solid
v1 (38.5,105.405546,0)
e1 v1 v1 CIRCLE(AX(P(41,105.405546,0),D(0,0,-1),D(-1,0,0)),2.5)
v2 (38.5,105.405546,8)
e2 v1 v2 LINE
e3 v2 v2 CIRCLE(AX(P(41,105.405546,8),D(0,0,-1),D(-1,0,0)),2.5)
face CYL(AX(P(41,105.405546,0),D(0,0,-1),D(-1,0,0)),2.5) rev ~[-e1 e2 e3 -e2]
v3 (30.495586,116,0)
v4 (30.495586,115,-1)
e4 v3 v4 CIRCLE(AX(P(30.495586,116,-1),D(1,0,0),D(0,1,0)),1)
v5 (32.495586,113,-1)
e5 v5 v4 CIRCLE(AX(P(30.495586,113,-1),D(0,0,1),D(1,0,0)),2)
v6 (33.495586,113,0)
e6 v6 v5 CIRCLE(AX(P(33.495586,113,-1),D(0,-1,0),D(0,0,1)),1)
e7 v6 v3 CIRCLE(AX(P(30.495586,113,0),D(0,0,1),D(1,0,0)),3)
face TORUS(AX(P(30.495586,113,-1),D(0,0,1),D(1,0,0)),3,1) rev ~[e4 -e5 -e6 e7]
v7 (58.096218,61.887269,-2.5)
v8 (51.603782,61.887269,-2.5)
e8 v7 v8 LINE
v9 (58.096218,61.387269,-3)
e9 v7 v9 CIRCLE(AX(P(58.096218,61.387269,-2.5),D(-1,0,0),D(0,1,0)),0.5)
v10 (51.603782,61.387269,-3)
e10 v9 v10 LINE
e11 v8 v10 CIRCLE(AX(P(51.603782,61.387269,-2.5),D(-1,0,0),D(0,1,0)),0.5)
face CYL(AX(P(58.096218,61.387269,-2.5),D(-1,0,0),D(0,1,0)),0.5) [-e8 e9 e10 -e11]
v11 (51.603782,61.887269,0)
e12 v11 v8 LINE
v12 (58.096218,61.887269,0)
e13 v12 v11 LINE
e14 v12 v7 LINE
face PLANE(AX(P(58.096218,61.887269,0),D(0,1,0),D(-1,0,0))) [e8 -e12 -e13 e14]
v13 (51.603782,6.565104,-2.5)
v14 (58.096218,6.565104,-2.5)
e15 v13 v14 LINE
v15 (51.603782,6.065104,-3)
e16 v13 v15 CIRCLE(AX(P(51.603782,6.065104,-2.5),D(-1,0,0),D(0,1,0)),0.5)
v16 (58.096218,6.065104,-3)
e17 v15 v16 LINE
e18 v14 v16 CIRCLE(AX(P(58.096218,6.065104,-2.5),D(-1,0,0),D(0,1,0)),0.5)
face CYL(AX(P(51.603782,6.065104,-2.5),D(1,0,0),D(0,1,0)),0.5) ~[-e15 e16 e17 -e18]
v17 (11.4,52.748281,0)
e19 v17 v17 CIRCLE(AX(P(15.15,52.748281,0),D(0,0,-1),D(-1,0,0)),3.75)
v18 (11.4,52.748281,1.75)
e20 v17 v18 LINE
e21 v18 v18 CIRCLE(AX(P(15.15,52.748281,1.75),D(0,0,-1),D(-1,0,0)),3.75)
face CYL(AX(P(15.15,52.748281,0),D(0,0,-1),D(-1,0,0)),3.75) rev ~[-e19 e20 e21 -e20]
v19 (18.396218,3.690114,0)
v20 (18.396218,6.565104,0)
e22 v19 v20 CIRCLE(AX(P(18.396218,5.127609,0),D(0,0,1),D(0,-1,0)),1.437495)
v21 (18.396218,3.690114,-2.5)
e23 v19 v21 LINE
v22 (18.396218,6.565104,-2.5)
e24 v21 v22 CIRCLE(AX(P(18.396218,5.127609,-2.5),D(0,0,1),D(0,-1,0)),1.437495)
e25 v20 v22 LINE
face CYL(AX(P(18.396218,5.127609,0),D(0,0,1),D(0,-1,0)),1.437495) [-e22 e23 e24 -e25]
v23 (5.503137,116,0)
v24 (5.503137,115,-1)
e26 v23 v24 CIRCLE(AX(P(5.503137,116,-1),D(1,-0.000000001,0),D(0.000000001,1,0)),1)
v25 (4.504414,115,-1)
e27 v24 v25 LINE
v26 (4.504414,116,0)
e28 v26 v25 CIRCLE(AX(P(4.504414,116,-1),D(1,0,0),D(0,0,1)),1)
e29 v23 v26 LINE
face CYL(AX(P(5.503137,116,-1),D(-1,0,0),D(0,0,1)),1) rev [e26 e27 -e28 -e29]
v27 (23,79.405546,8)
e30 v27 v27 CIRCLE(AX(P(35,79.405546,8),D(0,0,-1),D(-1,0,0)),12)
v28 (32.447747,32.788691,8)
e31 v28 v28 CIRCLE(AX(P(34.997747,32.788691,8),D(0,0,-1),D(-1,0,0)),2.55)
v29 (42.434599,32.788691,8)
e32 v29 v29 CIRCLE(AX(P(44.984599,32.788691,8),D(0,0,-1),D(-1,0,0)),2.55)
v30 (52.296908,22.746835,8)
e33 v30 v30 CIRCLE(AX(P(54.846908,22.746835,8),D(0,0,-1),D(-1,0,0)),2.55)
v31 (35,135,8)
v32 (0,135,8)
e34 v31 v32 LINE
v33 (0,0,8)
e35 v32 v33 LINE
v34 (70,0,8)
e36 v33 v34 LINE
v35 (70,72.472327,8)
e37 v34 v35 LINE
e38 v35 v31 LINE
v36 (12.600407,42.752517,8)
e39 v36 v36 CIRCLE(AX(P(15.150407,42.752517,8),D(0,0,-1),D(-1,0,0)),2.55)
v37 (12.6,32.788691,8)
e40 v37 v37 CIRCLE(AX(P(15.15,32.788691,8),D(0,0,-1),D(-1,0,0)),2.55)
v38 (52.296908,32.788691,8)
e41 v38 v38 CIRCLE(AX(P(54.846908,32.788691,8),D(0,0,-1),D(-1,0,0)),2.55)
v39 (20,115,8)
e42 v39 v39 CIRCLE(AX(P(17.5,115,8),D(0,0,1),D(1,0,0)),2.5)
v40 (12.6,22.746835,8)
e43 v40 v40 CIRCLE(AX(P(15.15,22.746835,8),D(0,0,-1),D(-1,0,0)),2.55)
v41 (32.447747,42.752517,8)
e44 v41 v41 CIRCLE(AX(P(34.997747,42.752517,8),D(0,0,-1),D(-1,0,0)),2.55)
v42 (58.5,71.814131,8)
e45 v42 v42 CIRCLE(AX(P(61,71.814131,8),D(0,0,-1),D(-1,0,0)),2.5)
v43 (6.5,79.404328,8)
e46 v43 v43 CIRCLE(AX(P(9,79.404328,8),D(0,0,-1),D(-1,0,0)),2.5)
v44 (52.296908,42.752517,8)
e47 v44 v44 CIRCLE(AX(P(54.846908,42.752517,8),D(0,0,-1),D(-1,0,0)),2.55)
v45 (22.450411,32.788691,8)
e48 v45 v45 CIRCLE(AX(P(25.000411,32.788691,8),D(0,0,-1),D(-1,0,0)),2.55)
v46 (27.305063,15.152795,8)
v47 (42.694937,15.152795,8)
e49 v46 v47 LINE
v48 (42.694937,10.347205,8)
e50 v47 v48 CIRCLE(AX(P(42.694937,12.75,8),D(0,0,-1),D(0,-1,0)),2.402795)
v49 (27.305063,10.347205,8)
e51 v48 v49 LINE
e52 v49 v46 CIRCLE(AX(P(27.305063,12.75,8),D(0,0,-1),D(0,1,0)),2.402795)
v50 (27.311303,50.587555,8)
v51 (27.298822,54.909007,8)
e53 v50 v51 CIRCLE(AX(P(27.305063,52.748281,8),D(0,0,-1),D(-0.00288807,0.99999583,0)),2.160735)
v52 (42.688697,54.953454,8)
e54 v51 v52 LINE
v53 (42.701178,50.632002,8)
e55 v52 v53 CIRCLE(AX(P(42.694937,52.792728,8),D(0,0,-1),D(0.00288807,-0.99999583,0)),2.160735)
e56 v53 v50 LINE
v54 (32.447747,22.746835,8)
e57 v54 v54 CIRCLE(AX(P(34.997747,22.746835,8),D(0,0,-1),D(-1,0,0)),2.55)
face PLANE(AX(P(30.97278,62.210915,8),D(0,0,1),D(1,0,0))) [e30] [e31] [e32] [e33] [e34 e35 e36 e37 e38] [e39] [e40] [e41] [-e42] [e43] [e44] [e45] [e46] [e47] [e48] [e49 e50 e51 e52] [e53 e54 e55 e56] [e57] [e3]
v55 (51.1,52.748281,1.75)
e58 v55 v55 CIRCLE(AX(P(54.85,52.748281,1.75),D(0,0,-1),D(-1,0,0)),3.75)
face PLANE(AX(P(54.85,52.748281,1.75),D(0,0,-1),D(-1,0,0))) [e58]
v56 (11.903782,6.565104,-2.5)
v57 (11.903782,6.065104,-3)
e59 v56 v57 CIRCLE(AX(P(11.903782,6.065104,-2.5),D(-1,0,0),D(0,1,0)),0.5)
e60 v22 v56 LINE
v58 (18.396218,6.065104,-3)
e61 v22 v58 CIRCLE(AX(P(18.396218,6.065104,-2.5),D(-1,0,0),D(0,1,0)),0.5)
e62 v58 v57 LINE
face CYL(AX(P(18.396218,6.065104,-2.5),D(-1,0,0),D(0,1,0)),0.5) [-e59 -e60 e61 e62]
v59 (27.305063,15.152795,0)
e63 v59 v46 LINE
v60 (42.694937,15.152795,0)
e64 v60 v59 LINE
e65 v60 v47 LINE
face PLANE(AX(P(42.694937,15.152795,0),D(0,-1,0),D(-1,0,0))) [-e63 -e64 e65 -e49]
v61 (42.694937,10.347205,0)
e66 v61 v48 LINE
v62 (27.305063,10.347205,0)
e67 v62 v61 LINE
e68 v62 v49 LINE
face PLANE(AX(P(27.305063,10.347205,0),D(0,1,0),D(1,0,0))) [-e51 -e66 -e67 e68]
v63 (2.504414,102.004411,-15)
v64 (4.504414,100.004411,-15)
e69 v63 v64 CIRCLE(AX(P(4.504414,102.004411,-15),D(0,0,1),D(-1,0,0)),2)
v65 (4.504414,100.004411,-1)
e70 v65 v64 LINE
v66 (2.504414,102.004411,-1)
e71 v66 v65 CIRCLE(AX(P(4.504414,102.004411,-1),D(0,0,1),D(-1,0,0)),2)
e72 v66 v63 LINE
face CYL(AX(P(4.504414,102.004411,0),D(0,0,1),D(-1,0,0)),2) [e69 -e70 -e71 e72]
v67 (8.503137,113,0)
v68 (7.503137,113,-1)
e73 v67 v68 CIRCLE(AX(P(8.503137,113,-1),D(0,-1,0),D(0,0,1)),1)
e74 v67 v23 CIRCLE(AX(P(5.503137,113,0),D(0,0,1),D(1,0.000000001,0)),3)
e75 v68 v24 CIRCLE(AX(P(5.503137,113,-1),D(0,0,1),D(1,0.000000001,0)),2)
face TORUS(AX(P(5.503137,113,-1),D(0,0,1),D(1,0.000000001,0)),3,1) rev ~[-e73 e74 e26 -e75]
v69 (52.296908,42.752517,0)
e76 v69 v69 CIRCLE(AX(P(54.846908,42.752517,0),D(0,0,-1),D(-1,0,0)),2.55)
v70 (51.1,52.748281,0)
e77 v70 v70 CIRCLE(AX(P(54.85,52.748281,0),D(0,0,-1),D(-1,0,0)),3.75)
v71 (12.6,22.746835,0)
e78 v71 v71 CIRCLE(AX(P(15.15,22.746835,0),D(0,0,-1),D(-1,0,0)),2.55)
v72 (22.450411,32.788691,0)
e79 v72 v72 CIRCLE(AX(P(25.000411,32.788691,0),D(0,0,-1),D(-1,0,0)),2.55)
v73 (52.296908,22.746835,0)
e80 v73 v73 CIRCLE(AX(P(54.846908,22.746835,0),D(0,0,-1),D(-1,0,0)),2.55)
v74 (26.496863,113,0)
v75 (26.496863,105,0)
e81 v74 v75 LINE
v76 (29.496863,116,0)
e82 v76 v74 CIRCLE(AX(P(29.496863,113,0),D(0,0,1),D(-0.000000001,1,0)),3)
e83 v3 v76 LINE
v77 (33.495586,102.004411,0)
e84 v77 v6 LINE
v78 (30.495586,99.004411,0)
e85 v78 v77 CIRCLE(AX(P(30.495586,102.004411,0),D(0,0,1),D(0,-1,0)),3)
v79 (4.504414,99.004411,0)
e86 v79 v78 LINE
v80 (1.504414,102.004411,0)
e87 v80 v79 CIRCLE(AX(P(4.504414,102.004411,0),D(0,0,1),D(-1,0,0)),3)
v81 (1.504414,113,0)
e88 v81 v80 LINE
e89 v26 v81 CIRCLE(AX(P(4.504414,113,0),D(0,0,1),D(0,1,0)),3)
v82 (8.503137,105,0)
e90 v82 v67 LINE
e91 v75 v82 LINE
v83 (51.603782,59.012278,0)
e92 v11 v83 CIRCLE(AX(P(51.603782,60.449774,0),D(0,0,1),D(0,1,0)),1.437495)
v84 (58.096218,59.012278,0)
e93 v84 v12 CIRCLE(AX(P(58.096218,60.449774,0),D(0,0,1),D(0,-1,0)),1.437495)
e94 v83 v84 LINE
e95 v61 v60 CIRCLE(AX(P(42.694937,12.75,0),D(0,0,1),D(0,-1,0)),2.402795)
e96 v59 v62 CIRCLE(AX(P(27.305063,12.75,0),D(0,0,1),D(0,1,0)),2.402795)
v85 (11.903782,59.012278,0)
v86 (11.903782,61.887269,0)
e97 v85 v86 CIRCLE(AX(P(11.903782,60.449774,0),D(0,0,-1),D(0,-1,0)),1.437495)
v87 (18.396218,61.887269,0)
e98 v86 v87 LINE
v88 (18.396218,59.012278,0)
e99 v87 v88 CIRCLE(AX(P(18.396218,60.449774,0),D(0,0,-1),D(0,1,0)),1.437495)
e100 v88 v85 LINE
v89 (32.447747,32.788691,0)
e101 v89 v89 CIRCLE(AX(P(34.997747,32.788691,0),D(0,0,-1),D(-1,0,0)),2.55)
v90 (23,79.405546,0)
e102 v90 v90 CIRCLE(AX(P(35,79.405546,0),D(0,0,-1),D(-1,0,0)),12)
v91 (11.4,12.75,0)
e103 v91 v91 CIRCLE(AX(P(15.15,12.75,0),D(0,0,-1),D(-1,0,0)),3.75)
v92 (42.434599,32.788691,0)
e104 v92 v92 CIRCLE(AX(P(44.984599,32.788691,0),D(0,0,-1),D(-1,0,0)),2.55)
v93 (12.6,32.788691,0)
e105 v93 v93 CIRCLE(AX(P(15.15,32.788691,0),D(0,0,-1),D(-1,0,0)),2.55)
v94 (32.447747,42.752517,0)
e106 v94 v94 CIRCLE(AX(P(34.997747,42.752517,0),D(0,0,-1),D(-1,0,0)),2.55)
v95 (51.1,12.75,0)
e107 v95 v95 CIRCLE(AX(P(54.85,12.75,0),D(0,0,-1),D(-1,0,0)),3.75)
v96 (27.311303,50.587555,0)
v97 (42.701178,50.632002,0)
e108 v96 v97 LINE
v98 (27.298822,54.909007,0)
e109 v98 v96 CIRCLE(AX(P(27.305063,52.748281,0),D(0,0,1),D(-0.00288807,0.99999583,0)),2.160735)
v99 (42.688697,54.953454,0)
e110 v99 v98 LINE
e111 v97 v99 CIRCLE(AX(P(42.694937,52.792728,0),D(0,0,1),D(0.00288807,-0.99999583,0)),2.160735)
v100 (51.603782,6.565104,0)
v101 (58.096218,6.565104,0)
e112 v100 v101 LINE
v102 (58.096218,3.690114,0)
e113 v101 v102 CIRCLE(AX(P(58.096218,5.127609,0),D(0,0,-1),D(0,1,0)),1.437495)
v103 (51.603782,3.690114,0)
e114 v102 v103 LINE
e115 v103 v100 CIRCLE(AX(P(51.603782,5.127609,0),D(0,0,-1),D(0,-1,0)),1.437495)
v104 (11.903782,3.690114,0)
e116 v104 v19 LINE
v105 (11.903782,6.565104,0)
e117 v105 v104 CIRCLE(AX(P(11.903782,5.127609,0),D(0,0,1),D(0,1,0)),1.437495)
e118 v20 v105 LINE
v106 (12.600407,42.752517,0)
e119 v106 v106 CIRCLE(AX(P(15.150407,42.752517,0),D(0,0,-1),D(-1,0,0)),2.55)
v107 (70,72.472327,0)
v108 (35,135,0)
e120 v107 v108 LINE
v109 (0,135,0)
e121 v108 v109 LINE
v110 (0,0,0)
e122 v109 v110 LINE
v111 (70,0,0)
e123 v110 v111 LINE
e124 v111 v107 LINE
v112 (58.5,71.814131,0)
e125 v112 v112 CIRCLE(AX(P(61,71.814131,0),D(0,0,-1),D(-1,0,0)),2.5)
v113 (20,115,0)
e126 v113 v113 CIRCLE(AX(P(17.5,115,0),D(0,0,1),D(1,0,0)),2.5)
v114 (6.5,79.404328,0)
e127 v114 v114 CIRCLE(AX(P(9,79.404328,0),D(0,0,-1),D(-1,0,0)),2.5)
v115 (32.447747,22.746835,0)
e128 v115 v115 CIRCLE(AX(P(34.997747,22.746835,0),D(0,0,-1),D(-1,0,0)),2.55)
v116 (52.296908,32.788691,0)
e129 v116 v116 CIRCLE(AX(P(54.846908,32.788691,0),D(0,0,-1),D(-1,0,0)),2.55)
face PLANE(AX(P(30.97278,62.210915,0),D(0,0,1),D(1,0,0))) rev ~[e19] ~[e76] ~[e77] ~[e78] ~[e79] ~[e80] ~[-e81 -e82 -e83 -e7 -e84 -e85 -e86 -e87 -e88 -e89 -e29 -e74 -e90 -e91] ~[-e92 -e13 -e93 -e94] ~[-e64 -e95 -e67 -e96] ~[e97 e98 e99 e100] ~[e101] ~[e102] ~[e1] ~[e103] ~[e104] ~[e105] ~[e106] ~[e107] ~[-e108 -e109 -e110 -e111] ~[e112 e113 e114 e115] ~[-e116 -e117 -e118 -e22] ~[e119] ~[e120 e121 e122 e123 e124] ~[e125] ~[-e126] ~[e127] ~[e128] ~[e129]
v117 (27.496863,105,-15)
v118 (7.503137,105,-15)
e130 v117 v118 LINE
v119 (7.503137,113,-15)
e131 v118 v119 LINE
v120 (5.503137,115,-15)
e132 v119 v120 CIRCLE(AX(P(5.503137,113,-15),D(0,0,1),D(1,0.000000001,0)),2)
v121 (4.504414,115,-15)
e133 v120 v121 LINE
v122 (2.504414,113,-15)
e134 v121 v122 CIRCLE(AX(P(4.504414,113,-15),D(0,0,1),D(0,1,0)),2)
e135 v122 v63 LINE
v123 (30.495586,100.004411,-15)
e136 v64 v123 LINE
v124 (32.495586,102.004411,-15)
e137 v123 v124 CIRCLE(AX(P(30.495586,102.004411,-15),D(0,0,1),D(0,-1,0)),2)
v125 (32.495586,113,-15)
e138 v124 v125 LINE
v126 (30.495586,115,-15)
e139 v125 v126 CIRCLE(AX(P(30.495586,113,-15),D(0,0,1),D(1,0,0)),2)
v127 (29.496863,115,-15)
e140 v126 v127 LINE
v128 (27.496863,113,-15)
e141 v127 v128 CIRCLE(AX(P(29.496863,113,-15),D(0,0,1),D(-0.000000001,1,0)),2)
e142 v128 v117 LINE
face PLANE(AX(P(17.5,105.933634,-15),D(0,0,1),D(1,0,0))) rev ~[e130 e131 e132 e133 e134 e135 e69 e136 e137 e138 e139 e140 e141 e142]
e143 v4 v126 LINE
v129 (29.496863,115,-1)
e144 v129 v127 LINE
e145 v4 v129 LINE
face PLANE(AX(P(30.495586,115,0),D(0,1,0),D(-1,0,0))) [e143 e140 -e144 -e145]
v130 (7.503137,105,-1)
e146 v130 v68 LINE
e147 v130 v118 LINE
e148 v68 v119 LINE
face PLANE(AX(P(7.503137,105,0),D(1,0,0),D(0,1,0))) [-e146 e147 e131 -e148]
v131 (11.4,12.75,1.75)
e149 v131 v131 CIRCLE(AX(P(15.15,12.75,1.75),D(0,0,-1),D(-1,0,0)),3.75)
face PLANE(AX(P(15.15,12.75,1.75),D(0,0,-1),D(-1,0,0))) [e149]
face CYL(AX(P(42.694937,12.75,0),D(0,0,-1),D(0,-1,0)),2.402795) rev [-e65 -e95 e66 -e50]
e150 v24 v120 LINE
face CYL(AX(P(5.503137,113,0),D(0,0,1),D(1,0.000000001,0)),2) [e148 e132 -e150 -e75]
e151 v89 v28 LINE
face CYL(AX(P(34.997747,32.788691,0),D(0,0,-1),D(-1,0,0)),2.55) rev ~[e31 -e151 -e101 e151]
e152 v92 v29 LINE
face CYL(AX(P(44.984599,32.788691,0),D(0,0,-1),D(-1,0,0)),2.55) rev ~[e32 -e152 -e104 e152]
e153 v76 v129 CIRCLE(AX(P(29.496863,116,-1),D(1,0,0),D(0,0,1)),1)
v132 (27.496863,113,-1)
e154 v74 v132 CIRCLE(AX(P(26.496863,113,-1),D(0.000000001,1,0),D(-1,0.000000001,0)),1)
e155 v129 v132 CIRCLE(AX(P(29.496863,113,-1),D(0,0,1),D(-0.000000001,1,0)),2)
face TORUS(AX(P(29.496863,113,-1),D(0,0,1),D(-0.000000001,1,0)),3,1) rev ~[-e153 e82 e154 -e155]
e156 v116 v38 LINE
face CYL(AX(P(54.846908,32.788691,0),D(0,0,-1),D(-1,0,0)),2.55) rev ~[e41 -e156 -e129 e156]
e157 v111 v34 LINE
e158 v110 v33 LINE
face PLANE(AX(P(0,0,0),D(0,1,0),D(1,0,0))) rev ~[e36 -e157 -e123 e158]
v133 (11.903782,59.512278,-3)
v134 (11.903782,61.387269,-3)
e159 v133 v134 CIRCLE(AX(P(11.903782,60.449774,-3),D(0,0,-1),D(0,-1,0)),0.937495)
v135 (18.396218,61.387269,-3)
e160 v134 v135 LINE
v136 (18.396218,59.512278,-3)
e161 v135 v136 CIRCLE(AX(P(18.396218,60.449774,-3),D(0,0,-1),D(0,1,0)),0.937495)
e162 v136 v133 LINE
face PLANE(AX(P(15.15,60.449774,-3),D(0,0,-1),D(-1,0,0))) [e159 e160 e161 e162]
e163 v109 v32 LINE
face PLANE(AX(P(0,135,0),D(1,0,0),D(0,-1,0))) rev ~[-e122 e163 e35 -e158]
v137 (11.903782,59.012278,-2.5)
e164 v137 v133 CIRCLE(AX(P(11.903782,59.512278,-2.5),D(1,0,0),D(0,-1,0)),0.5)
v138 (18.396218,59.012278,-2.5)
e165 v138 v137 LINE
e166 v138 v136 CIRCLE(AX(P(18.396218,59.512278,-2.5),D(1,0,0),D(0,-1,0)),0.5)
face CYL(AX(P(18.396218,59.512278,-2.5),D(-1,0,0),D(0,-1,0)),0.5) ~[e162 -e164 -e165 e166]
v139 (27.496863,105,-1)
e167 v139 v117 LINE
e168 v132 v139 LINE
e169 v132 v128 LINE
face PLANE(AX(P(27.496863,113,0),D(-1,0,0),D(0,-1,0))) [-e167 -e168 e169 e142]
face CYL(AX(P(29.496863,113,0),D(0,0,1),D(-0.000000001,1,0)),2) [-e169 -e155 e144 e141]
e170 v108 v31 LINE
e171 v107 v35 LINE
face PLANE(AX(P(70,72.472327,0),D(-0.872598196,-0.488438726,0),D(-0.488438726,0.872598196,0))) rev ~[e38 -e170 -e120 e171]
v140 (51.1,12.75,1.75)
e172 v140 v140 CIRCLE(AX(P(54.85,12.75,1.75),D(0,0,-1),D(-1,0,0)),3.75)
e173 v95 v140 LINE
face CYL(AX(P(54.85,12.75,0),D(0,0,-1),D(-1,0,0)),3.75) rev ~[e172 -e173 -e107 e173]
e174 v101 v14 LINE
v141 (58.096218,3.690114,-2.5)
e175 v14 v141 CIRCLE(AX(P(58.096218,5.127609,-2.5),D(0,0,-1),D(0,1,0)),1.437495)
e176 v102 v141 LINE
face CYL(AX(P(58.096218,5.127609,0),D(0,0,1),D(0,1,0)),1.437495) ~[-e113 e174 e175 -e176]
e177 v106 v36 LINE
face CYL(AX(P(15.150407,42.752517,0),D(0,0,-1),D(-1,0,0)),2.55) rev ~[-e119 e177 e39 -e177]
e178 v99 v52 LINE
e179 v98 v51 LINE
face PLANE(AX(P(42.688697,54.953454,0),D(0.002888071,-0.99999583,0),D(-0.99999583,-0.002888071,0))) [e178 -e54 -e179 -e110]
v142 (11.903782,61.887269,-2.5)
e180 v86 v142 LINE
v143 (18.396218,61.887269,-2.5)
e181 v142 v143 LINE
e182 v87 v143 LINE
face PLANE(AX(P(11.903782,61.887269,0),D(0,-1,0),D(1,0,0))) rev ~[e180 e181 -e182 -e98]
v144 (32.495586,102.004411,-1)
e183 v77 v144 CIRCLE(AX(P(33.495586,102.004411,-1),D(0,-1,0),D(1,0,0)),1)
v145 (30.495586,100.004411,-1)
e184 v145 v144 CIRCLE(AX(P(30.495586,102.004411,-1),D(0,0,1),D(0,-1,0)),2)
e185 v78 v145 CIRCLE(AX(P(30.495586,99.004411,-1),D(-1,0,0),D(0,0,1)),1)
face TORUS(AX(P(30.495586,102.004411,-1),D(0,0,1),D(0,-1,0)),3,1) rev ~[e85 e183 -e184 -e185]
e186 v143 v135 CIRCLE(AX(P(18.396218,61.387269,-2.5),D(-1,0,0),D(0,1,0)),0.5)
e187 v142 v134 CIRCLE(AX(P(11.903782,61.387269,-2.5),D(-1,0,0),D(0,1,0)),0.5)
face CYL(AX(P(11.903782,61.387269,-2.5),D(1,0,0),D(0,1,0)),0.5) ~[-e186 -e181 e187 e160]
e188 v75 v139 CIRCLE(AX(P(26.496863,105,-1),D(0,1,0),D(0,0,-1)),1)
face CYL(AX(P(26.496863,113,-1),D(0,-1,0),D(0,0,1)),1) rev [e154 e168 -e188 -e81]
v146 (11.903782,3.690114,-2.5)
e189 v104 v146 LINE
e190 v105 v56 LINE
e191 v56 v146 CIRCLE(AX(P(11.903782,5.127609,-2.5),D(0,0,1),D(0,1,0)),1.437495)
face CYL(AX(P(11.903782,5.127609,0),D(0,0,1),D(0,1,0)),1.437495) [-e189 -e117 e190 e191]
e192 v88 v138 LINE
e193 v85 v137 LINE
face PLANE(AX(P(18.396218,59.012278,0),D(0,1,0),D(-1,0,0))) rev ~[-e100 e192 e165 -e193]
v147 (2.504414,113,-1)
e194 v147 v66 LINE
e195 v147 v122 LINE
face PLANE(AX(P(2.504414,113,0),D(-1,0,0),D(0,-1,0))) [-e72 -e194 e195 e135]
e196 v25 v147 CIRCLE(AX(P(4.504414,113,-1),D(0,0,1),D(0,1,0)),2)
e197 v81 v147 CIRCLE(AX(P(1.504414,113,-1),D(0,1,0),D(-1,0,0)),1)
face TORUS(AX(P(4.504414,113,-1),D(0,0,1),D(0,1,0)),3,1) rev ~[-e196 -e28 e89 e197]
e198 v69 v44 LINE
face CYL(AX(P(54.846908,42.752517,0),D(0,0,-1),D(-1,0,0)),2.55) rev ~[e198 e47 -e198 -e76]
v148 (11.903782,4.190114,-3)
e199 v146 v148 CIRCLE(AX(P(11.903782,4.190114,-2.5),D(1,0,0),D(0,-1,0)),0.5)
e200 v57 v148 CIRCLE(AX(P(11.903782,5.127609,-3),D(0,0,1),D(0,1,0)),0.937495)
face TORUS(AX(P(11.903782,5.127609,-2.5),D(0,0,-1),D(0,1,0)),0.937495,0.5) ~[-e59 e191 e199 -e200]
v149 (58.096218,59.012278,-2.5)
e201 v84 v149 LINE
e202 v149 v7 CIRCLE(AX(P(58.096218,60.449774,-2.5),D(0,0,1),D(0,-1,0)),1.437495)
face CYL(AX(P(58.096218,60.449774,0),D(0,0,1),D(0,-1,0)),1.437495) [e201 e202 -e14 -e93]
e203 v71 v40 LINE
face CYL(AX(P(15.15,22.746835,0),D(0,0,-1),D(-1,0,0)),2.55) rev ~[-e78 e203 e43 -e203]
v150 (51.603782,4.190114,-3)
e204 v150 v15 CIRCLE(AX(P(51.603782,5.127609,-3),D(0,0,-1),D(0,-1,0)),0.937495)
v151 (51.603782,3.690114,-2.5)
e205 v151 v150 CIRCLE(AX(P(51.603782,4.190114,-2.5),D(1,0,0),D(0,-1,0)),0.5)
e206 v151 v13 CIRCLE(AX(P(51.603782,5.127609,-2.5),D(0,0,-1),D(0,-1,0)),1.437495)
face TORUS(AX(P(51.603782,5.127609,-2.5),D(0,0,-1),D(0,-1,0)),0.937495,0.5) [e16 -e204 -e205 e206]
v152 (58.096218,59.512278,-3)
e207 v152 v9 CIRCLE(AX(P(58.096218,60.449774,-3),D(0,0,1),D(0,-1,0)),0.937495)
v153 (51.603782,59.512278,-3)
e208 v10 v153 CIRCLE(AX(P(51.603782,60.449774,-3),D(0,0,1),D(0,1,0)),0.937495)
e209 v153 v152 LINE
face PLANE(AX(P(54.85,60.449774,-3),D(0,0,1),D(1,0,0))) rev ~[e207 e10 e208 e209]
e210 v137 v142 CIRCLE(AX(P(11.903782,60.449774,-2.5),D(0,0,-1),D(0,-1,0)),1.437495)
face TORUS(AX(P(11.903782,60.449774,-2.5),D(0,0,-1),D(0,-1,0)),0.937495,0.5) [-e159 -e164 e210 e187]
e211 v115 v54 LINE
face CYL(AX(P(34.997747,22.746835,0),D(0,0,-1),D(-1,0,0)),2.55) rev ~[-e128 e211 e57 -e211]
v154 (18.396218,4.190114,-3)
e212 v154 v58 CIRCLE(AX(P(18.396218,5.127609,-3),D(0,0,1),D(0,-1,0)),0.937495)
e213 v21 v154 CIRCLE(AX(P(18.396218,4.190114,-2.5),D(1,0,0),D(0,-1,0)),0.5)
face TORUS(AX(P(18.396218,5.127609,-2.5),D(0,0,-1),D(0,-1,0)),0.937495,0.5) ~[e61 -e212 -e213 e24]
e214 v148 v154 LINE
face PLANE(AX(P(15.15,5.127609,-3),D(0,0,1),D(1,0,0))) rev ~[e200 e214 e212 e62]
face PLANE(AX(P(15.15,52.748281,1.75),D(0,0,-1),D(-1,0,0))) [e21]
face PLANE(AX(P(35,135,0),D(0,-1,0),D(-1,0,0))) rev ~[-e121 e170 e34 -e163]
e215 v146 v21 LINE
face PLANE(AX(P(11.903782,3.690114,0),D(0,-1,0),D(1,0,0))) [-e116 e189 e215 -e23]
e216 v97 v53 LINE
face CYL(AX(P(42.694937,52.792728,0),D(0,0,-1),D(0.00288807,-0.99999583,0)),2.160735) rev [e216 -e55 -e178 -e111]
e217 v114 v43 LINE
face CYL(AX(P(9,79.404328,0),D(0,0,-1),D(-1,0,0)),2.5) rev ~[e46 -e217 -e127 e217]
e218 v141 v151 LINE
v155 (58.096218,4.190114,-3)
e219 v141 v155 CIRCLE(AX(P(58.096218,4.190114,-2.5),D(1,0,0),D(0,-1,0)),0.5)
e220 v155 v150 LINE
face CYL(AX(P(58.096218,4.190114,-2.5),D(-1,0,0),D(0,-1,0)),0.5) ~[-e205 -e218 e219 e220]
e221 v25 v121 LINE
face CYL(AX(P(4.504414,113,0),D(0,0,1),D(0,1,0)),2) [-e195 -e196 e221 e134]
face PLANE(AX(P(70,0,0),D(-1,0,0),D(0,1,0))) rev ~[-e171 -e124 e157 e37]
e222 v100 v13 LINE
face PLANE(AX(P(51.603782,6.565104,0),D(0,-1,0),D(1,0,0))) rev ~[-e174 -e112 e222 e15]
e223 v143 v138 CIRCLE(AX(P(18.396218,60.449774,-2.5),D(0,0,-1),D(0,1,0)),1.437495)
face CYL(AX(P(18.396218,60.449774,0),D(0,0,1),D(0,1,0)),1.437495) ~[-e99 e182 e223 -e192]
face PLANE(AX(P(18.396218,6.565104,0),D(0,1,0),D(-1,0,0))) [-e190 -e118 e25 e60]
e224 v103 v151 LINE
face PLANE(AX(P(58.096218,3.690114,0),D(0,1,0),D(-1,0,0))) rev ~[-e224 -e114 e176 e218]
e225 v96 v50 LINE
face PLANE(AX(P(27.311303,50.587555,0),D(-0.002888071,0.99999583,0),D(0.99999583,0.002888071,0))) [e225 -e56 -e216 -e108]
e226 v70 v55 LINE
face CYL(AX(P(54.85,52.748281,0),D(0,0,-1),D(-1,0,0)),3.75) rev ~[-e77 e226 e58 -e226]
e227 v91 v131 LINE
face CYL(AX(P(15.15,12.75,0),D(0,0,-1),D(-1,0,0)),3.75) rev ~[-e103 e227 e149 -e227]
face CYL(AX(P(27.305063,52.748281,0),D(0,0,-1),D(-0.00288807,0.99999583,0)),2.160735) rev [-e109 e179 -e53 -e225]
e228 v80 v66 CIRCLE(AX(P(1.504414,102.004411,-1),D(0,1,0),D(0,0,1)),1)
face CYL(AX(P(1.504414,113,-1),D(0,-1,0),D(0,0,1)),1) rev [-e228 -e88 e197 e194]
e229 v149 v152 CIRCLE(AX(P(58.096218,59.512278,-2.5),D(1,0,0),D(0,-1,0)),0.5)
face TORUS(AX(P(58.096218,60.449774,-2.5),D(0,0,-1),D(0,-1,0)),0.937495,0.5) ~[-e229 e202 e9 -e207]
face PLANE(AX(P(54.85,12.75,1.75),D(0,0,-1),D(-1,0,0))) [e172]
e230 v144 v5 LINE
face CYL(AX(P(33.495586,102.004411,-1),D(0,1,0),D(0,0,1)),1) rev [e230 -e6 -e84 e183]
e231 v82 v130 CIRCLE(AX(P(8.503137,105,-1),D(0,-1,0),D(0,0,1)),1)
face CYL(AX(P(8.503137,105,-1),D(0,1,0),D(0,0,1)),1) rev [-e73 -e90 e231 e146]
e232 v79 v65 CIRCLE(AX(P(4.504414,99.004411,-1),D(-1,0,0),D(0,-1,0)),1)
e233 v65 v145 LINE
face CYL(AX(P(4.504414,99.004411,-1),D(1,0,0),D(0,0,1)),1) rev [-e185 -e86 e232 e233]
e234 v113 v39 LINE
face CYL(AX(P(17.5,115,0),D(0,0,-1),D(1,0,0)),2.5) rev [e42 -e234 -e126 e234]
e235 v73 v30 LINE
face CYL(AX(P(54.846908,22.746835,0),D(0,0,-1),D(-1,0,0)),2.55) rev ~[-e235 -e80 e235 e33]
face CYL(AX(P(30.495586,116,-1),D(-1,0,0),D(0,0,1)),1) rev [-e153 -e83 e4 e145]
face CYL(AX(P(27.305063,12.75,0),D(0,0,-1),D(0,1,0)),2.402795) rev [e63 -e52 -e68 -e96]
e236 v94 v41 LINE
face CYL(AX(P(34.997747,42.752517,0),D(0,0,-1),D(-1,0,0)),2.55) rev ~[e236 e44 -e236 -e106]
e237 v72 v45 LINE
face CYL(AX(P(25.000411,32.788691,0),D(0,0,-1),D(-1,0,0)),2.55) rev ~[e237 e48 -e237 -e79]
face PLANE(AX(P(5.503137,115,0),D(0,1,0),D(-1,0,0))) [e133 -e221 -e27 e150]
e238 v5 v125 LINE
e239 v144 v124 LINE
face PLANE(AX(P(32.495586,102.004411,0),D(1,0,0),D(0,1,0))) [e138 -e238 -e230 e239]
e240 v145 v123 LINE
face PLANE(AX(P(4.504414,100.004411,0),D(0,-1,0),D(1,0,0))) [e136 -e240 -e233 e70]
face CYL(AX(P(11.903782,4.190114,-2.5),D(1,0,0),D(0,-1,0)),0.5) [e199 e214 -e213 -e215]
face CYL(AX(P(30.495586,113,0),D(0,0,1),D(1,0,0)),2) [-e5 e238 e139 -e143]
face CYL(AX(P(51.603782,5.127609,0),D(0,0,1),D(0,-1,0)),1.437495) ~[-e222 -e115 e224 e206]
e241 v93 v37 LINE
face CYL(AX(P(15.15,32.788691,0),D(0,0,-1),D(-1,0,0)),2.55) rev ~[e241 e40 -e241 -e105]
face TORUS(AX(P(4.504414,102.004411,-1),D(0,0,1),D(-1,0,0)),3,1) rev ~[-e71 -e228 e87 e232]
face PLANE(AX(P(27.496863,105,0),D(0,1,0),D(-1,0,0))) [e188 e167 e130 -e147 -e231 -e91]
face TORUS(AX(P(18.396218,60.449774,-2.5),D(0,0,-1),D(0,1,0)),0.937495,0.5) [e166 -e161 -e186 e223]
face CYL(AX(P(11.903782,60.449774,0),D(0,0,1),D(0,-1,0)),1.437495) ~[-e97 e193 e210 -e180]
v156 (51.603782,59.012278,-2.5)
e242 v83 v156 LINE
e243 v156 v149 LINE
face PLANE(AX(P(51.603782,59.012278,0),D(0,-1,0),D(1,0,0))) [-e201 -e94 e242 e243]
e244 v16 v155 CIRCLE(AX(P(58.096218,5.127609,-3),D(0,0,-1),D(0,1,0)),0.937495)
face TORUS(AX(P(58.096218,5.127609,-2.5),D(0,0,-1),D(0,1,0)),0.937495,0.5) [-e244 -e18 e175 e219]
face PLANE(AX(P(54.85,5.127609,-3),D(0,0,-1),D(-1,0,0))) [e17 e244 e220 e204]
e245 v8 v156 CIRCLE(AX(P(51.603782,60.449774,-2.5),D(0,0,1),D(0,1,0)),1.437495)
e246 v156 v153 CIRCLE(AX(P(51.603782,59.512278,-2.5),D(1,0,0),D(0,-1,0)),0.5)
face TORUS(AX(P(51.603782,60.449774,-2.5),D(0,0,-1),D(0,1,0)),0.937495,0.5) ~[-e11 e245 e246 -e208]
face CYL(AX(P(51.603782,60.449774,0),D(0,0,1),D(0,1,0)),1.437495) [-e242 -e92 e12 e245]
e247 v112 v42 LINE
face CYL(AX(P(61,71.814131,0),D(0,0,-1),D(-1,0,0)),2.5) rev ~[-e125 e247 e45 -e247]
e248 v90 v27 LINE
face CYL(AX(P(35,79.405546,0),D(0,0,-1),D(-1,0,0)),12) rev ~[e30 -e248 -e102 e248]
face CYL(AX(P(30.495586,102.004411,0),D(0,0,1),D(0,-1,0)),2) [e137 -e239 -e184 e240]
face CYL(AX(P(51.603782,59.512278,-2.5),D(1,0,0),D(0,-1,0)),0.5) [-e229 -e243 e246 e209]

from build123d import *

# Parameters (mm, degrees)
ESQUISSE1_R             = 2.5
BOSS_EXTRU_1_DEPTH      = 8
BOSS_EXTRU_3_DEPTH      = 15
CONG_1_R                = 1
ESQUISSE5_R             = 3.75
ENL_V_MAT_EXTRU_1_DEPTH = 1.75
ESQUISSE6_R             = 2.55
ENL_V_MAT_EXTRU_2_DEPTH = 153.807067899
ENL_V_MAT_EXTRU_3_DEPTH = 153.807067899
BOSS_EXTRU_4_DEPTH      = 3
CONG_2_R                = 0.5
ESQUISSE10_R            = 12
ENL_V_MAT_EXTRU_4_DEPTH = 153.807067899
ESQUISSE11_R            = 2.5
ENL_V_MAT_EXTRU_5_DEPTH = 153.807067899


with BuildPart() as part:
    # Esquisse1 → Boss.-Extru.1 (new body)
    with BuildSketch(Plane.XY):
        Polygon((0, 0), (70, 0), (70, 72.472327189), (35, 135), (0, 135), align=None)
        with Locations((17.5, 115)):
            Circle(ESQUISSE1_R, mode=Mode.SUBTRACT)
    extrude(amount=BOSS_EXTRU_1_DEPTH)

    # Esquisse4 → Boss.-Extru.3 (add)
    with BuildSketch(Plane(origin=(0, 0, 0), x_dir=(-1, 0, 0), z_dir=(0, 0, -1))):
        with BuildLine():
            Line((-27.49686293, 105), (-7.50313707, 105))
            Line((-7.50313707, 105), (-7.50313707, 113))
            ThreePointArc((-7.50313707, 113), (-6.917350632, 114.414213562), (-5.50313707, 115))
            Line((-5.50313707, 115), (-4.504414059, 115))
            ThreePointArc((-4.504414059, 115), (-3.090200496, 114.414213562), (-2.504414059, 113))
            Line((-2.504414059, 113), (-2.504414059, 102.004411464))
            ThreePointArc((-2.504414059, 102.004411464), (-3.090200496, 100.590197902), (-4.504414059, 100.004411464))
            Line((-4.504414059, 100.004411464), (-30.495585941, 100.004411464))
            ThreePointArc((-30.495585941, 100.004411464), (-31.909799504, 100.590197902), (-32.495585941, 102.004411464))
            Line((-32.495585941, 102.004411464), (-32.495585941, 113))
            ThreePointArc((-32.495585941, 113), (-31.909799504, 114.414213562), (-30.495585941, 115))
            Line((-30.495585941, 115), (-29.49686293, 115))
            ThreePointArc((-29.49686293, 115), (-28.082649368, 114.414213562), (-27.49686293, 113))
            Line((-27.49686293, 113), (-27.49686293, 105))
        make_face()
    extrude(amount=BOSS_EXTRU_3_DEPTH)

    # Congé1
    cong_1_edges = [part.edges().sort_by_distance(p)[0] for p in [
        (7.50313707, 109, 0),
        (27.49686293, 109, 0),
        (28.082649368, 114.414213562, 0),
        (29.996224436, 115, 0),
        (31.909799504, 114.414213562, 0),
        (32.495585941, 107.502205732, 0),
        (31.909799504, 100.590197902, 0),
        (17.5, 100.004411464, 0),
        (3.090200496, 100.590197902, 0),
        (2.504414059, 107.502205732, 0),
        (3.090200496, 114.414213562, 0),
        (5.003775564, 115, 0),
        (6.917350632, 114.414213562, 0),
    ]]
    fillet(cong_1_edges, radius=CONG_1_R)

    # Esquisse5 → Enlèv. mat.-Extru.1 (cut)
    with BuildSketch(Plane(origin=(0, 0, 0), x_dir=(-1, 0, 0), z_dir=(0, 0, -1))):
        with Locations((-54.85, 52.748281044)):
            Circle(ESQUISSE5_R)
        with Locations((-15.15, 52.748281044)):
            Circle(ESQUISSE5_R)
        with Locations((-54.85, 12.75)):
            Circle(ESQUISSE5_R)
        with Locations((-15.15, 12.75)):
            Circle(ESQUISSE5_R)
    extrude(amount=-ENL_V_MAT_EXTRU_1_DEPTH, mode=Mode.SUBTRACT)

    # Esquisse6 → Enlèv. mat.-Extru.2 (cut, through all)
    with BuildSketch(Plane(origin=(0, 0, 0), x_dir=(-1, 0, 0), z_dir=(0, 0, -1))):
        with Locations((-54.846908299, 42.752516513)):
            Circle(ESQUISSE6_R)
        with Locations((-34.997746817, 42.752516513)):
            Circle(ESQUISSE6_R)
        with Locations((-54.846908299, 32.788691402)):
            Circle(ESQUISSE6_R)
        with Locations((-44.984599054, 32.788691402)):
            Circle(ESQUISSE6_R)
        with Locations((-34.997746817, 32.788691402)):
            Circle(ESQUISSE6_R)
        with Locations((-25.000410905, 32.788691402)):
            Circle(ESQUISSE6_R)
        with Locations((-15.150407315, 42.752516513)):
            Circle(ESQUISSE6_R)
        with Locations((-15.15, 32.788691402)):
            Circle(ESQUISSE6_R)
        with Locations((-15.15, 22.746834884)):
            Circle(ESQUISSE6_R)
        with Locations((-34.997746817, 22.746834884)):
            Circle(ESQUISSE6_R)
        with Locations((-54.846908299, 22.746834884)):
            Circle(ESQUISSE6_R)
    extrude(amount=-ENL_V_MAT_EXTRU_2_DEPTH, mode=Mode.SUBTRACT)

    # Esquisse7 → Enlèv. mat.-Extru.3 (cut, through all)
    with BuildSketch(Plane(origin=(0, 0, 0), x_dir=(-1, 0, 0), z_dir=(0, 0, -1))):
        with BuildLine():
            Line((-42.688697109, 54.953454119), (-27.29882218, 54.909006883))
            ThreePointArc((-27.29882218, 54.909006883), (-25.144336695, 52.742040688), (-27.311302891, 50.587555204))
            Line((-27.311302891, 50.587555204), (-42.70117782, 50.63200244))
            ThreePointArc((-42.70117782, 50.63200244), (-44.855663305, 52.798968635), (-42.688697109, 54.953454119))
        make_face()
        with BuildLine():
            Line((-42.694937465, 15.15279537), (-27.305062535, 15.15279537))
            ThreePointArc((-27.305062535, 15.15279537), (-24.902267165, 12.75), (-27.305062535, 10.34720463))
            Line((-27.305062535, 10.34720463), (-42.694937465, 10.34720463))
            ThreePointArc((-42.694937465, 10.34720463), (-45.097732835, 12.75), (-42.694937465, 15.15279537))
        make_face()
    extrude(amount=-ENL_V_MAT_EXTRU_3_DEPTH, mode=Mode.SUBTRACT)

    # Esquisse8 → Boss.-Extru.4 (add)
    with BuildSketch(Plane(origin=(0, 0, 0), x_dir=(-1, 0, 0), z_dir=(0, 0, -1))):
        with BuildLine():
            Line((-58.096218294, 61.887268694), (-51.603781706, 61.887268694))
            ThreePointArc((-51.603781706, 61.887268694), (-50.166286551, 60.449773539), (-51.603781706, 59.012278383))
            Line((-51.603781706, 59.012278383), (-58.096218294, 59.012278383))
            ThreePointArc((-58.096218294, 59.012278383), (-59.533713449, 60.449773539), (-58.096218294, 61.887268694))
        make_face()
        with BuildLine():
            Line((-11.903781706, 61.887268694), (-18.396218294, 61.887268694))
            ThreePointArc((-18.396218294, 61.887268694), (-19.833713449, 60.449773539), (-18.396218294, 59.012278383))
            Line((-18.396218294, 59.012278383), (-11.903781706, 59.012278383))
            ThreePointArc((-11.903781706, 59.012278383), (-10.466286551, 60.449773539), (-11.903781706, 61.887268694))
        make_face()
        with BuildLine():
            Line((-58.096218294, 3.690114109), (-51.603781706, 3.690114109))
            ThreePointArc((-51.603781706, 3.690114109), (-50.166286551, 5.127609265), (-51.603781706, 6.56510442))
            Line((-51.603781706, 6.56510442), (-58.096218294, 6.56510442))
            ThreePointArc((-58.096218294, 6.56510442), (-59.533713449, 5.127609265), (-58.096218294, 3.690114109))
        make_face()
        with BuildLine():
            Line((-11.903781706, 3.690114109), (-18.396218294, 3.690114109))
            ThreePointArc((-18.396218294, 3.690114109), (-19.833713449, 5.127609265), (-18.396218294, 6.56510442))
            Line((-18.396218294, 6.56510442), (-11.903781706, 6.56510442))
            ThreePointArc((-11.903781706, 6.56510442), (-10.466286551, 5.127609265), (-11.903781706, 3.690114109))
        make_face()
    extrude(amount=BOSS_EXTRU_4_DEPTH)

    # Congé2
    cong_2_edges = [part.edges().sort_by_distance(p)[0] for p in [
        (59.533713449, 60.449773539, -3),
        (54.85, 59.012278383, -3),
        (50.166286551, 60.449773539, -3),
        (54.85, 61.887268694, -3),
        (10.466286551, 60.449773539, -3),
        (15.15, 61.887268694, -3),
        (19.833713449, 60.449773539, -3),
        (15.15, 59.012278383, -3),
        (59.533713449, 5.127609265, -3),
        (54.85, 3.690114109, -3),
        (50.166286551, 5.127609265, -3),
        (54.85, 6.56510442, -3),
        (10.466286551, 5.127609265, -3),
        (15.15, 6.56510442, -3),
        (19.833713449, 5.127609265, -3),
        (15.15, 3.690114109, -3),
    ]]
    fillet(cong_2_edges, radius=CONG_2_R)

    # Esquisse10 → Enlèv. mat.-Extru.4 (cut, through all)
    with BuildSketch(Plane(origin=(0, 0, 0), x_dir=(-1, 0, 0), z_dir=(0, 0, -1))):
        with Locations((-35, 79.405545715)):
            Circle(ESQUISSE10_R)
    extrude(amount=-ENL_V_MAT_EXTRU_4_DEPTH, mode=Mode.SUBTRACT)

    # Esquisse11 → Enlèv. mat.-Extru.5 (cut, through all)
    with BuildSketch(Plane(origin=(0, 0, 0), x_dir=(-1, 0, 0), z_dir=(0, 0, -1))):
        with Locations((-61, 71.814130875)):
            Circle(ESQUISSE11_R)
        with Locations((-9, 79.404327963)):
            Circle(ESQUISSE11_R)
        with Locations((-41, 105.405545715)):
            Circle(ESQUISSE11_R)
    extrude(amount=-ENL_V_MAT_EXTRU_5_DEPTH, mode=Mode.SUBTRACT)


solid = part.part
